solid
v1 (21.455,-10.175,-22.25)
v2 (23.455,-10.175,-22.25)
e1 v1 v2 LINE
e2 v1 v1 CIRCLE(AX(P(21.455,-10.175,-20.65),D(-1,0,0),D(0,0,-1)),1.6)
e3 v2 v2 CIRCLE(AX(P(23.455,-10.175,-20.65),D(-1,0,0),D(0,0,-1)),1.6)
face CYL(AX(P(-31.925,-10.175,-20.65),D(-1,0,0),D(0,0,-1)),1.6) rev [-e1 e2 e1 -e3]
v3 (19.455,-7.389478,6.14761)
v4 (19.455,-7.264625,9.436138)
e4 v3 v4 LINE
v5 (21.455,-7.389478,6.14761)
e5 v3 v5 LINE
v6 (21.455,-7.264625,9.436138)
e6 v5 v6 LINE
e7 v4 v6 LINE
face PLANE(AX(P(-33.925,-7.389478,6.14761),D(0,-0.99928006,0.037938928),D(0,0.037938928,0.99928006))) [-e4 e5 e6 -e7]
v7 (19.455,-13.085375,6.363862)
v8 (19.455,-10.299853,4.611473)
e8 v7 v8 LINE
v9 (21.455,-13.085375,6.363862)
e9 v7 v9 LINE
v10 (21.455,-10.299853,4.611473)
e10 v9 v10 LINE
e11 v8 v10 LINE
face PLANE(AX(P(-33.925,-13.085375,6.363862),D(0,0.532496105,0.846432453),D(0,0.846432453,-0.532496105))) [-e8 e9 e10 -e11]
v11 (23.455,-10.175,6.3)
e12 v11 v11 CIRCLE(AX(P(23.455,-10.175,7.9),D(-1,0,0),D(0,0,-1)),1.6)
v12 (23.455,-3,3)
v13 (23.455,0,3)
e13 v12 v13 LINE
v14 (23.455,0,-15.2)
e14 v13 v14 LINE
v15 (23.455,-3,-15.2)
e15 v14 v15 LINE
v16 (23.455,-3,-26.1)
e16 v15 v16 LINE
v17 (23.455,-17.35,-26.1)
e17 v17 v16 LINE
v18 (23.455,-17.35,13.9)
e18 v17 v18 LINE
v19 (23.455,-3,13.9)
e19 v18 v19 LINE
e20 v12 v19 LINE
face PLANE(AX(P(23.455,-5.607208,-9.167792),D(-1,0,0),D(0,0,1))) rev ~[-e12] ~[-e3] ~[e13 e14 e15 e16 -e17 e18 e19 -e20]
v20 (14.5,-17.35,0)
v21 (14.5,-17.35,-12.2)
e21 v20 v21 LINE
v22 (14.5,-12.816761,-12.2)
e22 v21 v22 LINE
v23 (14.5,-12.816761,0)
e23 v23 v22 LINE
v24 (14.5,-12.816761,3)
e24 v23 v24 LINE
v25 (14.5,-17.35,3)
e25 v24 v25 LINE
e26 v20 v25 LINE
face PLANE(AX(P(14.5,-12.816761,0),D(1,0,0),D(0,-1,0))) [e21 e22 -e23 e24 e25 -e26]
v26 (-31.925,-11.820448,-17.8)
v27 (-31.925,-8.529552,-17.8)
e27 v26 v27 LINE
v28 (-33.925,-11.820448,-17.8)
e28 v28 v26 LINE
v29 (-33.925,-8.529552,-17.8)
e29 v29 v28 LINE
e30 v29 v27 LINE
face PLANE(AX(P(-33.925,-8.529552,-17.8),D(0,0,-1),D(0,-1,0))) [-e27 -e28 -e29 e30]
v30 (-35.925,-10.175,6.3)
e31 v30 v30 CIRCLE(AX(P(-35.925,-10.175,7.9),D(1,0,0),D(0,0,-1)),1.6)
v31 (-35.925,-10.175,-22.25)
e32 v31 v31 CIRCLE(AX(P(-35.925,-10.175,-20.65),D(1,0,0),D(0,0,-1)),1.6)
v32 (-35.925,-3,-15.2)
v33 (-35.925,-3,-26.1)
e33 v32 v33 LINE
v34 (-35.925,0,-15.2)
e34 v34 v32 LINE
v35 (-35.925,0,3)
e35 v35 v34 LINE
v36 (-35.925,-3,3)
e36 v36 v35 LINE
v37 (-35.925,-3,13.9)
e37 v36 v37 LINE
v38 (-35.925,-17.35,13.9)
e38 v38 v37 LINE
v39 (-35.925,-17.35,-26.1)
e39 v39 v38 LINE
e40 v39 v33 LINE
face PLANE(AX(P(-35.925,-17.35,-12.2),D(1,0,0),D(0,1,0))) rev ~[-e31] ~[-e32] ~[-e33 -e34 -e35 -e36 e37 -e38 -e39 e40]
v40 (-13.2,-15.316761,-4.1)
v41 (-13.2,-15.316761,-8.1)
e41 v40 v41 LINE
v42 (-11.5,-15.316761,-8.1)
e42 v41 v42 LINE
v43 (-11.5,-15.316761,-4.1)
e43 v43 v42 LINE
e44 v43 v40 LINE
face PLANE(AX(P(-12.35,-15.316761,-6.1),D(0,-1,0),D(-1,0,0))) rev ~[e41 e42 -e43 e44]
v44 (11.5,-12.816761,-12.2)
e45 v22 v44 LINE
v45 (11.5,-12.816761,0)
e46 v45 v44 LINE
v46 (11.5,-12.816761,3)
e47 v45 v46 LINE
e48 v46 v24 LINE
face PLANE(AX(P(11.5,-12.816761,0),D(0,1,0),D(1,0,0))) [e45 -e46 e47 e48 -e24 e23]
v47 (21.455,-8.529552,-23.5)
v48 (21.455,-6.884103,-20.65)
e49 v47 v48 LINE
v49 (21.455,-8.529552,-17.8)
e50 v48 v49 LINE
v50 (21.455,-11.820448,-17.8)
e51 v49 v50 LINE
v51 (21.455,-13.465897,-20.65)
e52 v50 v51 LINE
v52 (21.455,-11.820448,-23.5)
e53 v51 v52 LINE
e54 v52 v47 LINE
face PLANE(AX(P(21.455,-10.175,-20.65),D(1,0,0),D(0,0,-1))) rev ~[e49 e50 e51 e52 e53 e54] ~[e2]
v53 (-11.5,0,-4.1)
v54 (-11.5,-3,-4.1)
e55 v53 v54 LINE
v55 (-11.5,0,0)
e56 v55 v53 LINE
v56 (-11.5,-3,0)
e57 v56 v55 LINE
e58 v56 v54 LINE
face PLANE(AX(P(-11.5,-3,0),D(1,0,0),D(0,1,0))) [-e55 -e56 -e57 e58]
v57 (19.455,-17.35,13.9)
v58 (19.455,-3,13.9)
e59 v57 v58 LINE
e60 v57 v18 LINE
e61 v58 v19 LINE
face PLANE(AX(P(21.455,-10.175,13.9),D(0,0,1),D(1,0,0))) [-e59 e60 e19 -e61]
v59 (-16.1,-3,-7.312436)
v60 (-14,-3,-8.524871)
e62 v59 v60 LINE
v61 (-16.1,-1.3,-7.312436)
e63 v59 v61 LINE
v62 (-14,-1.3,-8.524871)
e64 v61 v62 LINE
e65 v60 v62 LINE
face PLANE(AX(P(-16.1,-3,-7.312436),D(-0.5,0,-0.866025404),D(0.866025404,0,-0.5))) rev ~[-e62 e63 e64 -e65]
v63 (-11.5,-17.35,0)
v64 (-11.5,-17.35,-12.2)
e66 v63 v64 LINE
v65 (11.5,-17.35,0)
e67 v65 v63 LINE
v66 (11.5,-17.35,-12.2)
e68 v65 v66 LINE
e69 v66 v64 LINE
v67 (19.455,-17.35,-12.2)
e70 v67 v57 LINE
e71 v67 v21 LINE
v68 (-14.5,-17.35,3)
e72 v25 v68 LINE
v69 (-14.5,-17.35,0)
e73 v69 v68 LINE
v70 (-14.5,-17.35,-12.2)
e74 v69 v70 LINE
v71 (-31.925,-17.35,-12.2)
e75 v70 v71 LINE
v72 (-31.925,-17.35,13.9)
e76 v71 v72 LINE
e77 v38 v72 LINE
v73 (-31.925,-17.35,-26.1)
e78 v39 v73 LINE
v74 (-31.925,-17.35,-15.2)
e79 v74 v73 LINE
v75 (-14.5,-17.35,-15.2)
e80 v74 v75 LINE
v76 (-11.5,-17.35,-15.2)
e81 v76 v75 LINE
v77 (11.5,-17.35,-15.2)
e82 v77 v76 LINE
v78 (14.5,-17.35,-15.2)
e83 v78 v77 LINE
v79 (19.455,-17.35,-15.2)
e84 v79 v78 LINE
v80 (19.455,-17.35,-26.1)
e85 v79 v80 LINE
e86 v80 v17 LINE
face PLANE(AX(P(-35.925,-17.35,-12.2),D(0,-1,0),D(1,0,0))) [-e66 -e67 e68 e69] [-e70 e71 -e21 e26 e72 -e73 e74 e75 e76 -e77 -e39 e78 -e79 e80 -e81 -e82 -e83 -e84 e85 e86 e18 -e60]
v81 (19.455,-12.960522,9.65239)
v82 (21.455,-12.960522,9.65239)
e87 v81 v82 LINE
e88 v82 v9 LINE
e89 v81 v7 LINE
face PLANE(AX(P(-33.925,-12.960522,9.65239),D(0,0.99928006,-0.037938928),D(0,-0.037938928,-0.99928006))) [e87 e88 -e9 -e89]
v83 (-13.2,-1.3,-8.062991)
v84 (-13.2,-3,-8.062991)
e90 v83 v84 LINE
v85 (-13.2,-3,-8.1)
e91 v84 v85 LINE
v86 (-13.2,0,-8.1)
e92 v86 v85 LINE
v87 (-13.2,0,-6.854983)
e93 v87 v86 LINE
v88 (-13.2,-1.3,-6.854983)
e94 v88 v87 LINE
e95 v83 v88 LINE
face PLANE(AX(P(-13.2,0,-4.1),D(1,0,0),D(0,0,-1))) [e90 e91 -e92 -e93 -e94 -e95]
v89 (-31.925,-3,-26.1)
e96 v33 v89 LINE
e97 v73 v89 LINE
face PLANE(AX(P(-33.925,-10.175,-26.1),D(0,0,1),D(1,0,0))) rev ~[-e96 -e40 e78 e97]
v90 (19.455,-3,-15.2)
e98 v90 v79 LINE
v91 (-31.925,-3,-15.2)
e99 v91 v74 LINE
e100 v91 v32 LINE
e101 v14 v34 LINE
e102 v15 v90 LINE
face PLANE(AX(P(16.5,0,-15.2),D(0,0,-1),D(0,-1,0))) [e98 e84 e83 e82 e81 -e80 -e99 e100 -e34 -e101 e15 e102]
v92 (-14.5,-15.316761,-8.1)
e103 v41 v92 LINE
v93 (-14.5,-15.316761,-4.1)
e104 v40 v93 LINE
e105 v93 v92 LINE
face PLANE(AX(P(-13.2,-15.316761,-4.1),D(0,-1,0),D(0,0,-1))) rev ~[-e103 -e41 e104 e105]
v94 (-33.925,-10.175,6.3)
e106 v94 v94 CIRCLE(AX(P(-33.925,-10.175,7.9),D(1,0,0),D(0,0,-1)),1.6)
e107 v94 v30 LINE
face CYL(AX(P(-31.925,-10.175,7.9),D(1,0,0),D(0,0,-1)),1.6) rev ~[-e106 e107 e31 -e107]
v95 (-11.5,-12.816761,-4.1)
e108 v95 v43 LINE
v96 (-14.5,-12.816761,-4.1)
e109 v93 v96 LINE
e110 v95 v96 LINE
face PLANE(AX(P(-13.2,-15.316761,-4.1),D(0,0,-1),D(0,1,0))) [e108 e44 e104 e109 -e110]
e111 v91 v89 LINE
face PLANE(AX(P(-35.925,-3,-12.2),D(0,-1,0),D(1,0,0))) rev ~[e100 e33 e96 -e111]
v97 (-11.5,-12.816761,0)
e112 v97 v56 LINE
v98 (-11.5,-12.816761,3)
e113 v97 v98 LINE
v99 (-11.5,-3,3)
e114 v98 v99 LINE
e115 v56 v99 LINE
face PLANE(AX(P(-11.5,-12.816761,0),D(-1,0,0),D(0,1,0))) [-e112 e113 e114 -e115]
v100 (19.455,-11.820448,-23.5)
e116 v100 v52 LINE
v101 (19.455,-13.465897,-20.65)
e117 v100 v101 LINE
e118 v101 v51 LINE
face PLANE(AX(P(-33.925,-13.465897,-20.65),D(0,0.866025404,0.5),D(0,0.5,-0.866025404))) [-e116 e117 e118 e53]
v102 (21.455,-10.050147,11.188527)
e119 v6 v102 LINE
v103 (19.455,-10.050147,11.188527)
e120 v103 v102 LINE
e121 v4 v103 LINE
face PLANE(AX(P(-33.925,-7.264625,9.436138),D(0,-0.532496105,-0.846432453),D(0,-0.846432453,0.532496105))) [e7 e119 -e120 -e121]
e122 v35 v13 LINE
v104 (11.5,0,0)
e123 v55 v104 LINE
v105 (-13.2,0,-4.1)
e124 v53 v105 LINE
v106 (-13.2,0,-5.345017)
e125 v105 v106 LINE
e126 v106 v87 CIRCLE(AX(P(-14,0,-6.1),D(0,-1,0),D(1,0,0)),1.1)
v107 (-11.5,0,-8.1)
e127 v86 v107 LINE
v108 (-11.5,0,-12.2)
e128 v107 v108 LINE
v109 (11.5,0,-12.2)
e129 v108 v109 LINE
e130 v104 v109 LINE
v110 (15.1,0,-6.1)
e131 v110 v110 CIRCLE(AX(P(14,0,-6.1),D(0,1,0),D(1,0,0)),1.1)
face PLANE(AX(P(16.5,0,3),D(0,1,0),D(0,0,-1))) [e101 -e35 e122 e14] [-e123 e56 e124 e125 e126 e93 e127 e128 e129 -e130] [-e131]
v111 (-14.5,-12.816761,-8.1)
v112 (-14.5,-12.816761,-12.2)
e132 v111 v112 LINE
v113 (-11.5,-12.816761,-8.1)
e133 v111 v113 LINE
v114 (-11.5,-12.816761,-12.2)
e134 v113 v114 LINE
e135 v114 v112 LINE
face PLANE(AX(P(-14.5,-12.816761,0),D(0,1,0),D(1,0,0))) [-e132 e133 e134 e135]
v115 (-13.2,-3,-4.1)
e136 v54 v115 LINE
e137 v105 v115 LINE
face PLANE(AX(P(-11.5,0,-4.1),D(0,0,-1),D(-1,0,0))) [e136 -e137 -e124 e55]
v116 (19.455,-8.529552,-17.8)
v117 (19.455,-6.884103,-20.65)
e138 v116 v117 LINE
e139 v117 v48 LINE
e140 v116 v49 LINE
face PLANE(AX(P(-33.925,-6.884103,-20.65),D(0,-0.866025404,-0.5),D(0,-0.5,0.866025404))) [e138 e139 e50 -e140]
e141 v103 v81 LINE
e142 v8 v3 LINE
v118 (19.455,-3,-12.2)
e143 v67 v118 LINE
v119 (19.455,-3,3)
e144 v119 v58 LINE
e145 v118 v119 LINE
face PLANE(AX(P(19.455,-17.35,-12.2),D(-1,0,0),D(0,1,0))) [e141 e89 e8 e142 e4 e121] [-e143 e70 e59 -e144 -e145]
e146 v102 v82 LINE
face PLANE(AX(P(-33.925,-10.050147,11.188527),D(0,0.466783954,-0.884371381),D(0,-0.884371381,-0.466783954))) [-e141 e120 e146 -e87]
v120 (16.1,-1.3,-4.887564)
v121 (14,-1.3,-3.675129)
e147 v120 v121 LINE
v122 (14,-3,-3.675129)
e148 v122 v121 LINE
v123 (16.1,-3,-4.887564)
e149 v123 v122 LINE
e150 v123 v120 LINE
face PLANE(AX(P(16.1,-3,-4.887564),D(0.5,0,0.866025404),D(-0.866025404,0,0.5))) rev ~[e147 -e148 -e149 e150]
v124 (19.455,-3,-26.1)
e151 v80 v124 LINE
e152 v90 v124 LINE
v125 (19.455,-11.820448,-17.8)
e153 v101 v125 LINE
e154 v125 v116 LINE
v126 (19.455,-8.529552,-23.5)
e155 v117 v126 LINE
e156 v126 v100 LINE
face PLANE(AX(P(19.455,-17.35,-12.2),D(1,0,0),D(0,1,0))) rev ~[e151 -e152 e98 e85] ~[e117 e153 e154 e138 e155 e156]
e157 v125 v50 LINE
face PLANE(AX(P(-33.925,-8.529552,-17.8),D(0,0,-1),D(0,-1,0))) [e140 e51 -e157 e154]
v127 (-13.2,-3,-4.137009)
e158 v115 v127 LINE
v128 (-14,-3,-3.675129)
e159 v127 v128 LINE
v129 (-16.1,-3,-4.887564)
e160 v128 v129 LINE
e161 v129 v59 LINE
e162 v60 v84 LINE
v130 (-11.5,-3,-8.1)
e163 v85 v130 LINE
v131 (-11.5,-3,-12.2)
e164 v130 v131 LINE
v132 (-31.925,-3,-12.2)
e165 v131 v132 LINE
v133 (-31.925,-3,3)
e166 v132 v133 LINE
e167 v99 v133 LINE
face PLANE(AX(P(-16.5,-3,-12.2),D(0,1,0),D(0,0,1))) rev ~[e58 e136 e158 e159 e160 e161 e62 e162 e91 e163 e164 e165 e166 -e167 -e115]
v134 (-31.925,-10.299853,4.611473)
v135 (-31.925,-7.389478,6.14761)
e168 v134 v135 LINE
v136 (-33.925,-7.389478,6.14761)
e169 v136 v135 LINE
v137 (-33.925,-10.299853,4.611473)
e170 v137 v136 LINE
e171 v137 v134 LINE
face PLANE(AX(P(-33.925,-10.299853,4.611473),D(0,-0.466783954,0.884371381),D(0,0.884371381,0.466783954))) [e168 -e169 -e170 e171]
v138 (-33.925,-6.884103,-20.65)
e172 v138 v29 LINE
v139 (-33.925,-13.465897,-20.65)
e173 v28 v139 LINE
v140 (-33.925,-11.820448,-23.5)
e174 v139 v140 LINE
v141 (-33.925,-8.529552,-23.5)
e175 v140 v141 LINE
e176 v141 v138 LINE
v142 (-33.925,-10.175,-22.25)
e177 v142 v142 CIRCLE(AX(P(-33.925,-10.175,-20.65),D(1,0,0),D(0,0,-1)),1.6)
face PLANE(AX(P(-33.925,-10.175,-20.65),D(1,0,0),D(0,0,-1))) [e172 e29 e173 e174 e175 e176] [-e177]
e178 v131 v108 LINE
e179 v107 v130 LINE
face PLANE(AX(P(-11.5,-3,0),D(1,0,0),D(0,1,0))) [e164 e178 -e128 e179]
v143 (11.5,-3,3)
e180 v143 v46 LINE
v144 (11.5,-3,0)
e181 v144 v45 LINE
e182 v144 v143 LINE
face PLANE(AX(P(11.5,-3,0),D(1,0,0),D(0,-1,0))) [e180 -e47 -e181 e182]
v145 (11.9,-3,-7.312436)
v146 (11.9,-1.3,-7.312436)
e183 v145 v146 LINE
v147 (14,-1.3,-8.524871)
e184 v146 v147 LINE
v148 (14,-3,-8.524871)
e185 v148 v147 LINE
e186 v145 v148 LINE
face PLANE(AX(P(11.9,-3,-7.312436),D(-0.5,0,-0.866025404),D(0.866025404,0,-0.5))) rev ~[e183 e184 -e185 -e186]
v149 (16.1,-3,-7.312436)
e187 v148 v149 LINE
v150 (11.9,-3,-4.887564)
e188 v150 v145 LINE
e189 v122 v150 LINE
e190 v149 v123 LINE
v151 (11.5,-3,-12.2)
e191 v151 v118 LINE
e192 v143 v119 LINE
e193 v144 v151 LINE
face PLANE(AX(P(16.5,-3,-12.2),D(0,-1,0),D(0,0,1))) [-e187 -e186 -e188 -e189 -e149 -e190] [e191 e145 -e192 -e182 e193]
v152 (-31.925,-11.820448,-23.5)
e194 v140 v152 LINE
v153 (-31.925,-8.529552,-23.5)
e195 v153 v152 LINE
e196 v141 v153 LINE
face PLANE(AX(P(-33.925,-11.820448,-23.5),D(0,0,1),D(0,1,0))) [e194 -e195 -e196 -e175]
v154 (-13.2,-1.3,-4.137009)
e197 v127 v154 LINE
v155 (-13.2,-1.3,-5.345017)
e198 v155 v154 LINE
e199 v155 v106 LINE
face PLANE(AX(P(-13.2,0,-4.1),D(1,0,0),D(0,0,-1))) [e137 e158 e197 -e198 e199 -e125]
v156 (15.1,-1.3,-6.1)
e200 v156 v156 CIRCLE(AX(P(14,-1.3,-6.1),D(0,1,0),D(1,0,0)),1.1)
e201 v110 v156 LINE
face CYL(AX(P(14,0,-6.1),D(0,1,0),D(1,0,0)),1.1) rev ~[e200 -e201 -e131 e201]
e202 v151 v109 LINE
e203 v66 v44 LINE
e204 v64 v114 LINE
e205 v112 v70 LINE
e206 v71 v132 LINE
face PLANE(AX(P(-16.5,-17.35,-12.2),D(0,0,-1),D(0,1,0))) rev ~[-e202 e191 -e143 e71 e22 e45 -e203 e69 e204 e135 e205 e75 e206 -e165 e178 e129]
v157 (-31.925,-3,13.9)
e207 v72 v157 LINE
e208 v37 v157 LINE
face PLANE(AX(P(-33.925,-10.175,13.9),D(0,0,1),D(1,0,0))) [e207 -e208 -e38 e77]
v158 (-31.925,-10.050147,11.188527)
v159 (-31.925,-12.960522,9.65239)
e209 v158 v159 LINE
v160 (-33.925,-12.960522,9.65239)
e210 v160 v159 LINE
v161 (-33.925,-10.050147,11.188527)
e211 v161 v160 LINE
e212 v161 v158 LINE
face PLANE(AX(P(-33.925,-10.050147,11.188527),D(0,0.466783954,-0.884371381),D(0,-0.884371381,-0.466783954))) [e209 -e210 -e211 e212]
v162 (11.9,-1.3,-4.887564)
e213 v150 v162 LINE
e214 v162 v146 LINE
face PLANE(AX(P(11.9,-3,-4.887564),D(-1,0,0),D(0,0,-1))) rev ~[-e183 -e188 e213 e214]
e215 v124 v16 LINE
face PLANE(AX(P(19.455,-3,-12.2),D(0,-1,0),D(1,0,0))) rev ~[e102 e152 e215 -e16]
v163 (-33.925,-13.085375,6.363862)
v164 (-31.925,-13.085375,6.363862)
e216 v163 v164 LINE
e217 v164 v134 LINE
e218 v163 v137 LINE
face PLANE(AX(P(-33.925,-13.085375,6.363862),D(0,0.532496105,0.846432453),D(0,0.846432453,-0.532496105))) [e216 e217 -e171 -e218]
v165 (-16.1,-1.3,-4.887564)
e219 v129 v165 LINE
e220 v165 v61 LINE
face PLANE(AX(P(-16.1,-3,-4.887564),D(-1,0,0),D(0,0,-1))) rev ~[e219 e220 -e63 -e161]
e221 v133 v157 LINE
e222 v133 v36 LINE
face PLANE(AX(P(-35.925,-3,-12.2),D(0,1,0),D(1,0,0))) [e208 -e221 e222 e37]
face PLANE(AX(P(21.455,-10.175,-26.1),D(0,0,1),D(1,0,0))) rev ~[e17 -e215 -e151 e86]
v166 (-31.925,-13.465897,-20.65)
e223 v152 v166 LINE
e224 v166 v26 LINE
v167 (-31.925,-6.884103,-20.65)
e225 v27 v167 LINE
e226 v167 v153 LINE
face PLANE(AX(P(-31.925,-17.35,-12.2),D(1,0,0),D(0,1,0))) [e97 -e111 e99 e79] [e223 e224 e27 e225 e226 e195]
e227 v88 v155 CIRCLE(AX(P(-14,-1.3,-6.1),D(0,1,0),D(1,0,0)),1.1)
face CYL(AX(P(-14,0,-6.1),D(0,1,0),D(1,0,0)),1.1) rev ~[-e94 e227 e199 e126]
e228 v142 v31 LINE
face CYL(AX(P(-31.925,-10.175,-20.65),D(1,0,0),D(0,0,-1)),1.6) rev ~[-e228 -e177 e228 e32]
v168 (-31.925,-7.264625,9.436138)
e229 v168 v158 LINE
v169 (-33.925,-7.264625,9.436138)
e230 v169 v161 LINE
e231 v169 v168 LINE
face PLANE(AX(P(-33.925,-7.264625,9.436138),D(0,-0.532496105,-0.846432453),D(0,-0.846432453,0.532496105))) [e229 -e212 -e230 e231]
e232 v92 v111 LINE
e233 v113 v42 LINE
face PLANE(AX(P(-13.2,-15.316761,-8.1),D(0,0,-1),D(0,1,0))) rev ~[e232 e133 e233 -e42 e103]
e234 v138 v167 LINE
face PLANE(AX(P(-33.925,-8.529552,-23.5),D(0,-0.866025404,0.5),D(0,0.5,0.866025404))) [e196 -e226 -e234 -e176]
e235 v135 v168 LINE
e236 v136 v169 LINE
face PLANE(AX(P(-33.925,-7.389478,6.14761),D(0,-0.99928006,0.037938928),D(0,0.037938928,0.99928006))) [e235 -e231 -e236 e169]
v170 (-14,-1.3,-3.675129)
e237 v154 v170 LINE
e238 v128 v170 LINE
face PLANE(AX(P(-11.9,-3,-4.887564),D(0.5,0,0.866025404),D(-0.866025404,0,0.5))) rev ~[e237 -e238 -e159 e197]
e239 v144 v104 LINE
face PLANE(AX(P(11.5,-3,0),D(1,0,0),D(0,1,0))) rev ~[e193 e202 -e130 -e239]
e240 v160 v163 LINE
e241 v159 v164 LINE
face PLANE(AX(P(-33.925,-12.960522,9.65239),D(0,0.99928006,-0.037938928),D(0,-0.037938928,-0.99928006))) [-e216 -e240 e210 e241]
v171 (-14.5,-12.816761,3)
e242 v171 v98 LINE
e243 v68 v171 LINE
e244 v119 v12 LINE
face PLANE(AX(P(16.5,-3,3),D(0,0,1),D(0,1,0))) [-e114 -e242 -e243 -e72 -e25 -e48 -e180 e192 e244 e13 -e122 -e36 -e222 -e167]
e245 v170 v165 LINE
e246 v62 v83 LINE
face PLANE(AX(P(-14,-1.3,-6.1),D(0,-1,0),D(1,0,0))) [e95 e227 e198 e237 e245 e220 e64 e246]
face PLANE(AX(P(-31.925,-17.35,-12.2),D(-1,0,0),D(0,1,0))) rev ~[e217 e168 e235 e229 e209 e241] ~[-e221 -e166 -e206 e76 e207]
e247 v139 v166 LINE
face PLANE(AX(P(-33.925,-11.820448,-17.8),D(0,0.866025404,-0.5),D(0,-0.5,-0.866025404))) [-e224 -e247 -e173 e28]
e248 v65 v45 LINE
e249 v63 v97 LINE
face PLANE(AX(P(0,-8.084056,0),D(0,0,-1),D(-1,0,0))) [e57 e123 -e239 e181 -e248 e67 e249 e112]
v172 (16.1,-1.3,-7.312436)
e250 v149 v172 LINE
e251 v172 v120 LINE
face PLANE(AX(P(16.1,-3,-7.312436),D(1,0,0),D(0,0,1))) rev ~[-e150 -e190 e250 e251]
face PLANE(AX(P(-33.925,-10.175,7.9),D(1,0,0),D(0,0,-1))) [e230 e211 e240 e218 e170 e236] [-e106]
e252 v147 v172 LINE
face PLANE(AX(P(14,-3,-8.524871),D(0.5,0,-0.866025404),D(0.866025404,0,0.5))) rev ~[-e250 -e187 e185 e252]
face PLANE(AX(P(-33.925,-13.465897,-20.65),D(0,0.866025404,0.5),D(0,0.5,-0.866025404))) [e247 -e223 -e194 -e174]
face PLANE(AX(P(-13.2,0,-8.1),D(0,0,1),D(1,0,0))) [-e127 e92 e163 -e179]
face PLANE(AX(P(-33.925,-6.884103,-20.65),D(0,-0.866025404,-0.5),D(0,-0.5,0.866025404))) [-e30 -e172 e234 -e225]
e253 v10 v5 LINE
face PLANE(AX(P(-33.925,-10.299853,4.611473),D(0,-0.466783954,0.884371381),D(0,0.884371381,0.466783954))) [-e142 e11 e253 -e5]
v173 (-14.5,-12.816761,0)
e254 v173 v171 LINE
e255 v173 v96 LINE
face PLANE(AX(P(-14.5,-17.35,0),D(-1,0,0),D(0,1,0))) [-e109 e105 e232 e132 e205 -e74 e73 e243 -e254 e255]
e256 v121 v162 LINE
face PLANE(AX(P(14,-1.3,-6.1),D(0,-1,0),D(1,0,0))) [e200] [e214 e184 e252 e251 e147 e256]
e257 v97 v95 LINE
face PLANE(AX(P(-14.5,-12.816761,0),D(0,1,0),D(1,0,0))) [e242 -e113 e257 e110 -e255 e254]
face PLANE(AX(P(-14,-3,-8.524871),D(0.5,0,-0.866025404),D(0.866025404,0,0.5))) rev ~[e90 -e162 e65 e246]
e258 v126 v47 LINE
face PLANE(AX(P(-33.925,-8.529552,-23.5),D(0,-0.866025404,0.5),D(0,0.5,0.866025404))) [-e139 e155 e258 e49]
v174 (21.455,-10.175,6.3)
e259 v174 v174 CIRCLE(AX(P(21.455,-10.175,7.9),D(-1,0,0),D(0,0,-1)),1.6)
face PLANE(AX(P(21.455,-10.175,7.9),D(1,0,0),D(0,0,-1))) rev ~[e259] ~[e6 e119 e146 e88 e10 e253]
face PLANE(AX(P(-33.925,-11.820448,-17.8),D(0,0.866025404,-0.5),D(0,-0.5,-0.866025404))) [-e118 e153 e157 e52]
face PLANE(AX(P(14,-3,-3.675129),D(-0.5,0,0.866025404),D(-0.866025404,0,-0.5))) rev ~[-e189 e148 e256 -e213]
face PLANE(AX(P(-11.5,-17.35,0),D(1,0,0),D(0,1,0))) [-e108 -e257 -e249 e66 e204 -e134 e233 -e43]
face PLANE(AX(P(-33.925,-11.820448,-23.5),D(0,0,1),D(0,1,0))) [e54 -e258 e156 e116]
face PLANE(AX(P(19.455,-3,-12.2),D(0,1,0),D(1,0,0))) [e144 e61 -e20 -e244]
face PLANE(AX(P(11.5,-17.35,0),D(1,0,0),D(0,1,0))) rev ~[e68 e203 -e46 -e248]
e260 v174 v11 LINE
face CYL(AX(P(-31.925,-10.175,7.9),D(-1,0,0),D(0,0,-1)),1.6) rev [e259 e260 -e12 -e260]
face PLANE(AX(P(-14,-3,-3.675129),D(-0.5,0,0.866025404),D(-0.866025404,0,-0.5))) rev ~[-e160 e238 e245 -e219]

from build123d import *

# Parameters (mm, degrees)
BOSS_EXTRUDE1_DEPTH      = 3
SKETCH2_W                = 5
SKETCH2_H                = 3
SKETCH2_W_2              = 3
SKETCH2_H_2              = 4.533238731
BOSS_EXTRUDE2_DEPTH      = 15.2
BOSS_EXTRUDE3_DEPTH      = 3
BOSS_EXTRUDE4_DEPTH      = 19.425
BOSS_EXTRUDE5_DEPTH      = 6.955
CUT_EXTRUDE1_REACH       = 19.35
SKETCH6_R                = 1.1
CUT_EXTRUDE2_DEPTH       = 1.7
SKETCH8_W                = 4
SKETCH8_H                = 14.35
BOSS_EXTRUDE6_DEPTH      = 26.1
BOSS_EXTRUDE6_DEPTH_BACK = 13.9
SKETCH10_R               = 1.6
CUT_EXTRUDE3_DEPTH       = 56.38
CUT_EXTRUDE3_DEPTH_BACK  = 5
CUT_EXTRUDE5_START       = -2
CUT_EXTRUDE5_DEPTH       = 55.38
CUT_EXTRUDE6_DEPTH       = 7.5
CUT_EXTRUDE6_DEPTH_BACK  = 15.316761
CUT_EXTRUDE7_REACH       = 24.725
SKETCH13_W               = 4
SKETCH13_H               = 2.5


with BuildPart() as part:
    # Sketch1 → Boss-Extrude1 (new body)
    with BuildSketch(Plane.XY):
        Polygon((16.5, 0), (16.5, -3), (11.5, -3), (11.5, -12.816761269), (14.5, -12.816761269), (14.5, -17.35), (-14.5, -17.35), (-14.5, -12.816761269), (-11.5, -12.816761269), (-11.5, -3), (-16.5, -3), (-16.5, 0), align=None)
    extrude(amount=BOSS_EXTRUDE1_DEPTH)

    # Sketch2 → Boss-Extrude2 (add)
    with BuildSketch(Plane(origin=(0, 0, 0), x_dir=(-1, 0, 0), z_dir=(0, 0, -1))):
        with Locations((-14, -1.5)):
            Rectangle(SKETCH2_W, SKETCH2_H)
        with Locations((14, -1.5)):
            Rectangle(SKETCH2_W, SKETCH2_H)
        with Locations((-13, -15.083380635)):
            Rectangle(SKETCH2_W_2, SKETCH2_H_2)
        with Locations((13, -15.083380635)):
            Rectangle(SKETCH2_W_2, SKETCH2_H_2)
    extrude(amount=BOSS_EXTRUDE2_DEPTH)

    # Sketch3 → Boss-Extrude3 (add)
    with BuildSketch(Plane(origin=(0, 0, -12.2), x_dir=(-1, 0, 0), z_dir=(0, 0, -1))):
        Polygon((-11.5, -17.35), (16.5, -17.35), (16.5, 0), (-16.5, 0), (-16.5, -17.35), align=None)
    extrude(amount=BOSS_EXTRUDE3_DEPTH)

    # Sketch4 → Boss-Extrude4 (add)
    with BuildSketch(Plane.ZY.offset(16.5)):
        Polygon((-15.2, -17.35), (-12.2, -17.35), (-12.2, -3), (3, -3), (3, 0), (-15.2, 0), align=None)
    extrude(amount=BOSS_EXTRUDE4_DEPTH)

    # Sketch5 → Boss-Extrude5 (add)
    with BuildSketch(Plane(origin=(16.5, 0, 0), x_dir=(0, 0, -1), z_dir=(1, 0, 0))):
        Polygon((-3, 0), (15.2, 0), (15.2, -17.35), (12.2, -17.35), (12.2, -3), (-3, -3), align=None)
    extrude(amount=BOSS_EXTRUDE5_DEPTH)

    # Sketch6 → Cut-Extrude1 (cut, up to next)
    with BuildSketch(Plane(origin=(0, 0, 0), x_dir=(1, 0, 0), z_dir=(0, 1, 0)), mode=Mode.PRIVATE) as cut_extrude1_sk1:
        with Locations((14, 6.1)):
            Circle(SKETCH6_R)
    cut_extrude1_tool1 = extrude(cut_extrude1_sk1.sketch, amount=-CUT_EXTRUDE1_REACH, mode=Mode.PRIVATE) & part.part
    add(cut_extrude1_tool1.solids().sort_by_distance((14, 0, -6.1))[0], mode=Mode.SUBTRACT)
    # Sketch6 → Cut-Extrude1 (cut, up to next)
    with BuildSketch(Plane(origin=(0, 0, 0), x_dir=(1, 0, 0), z_dir=(0, 1, 0)), mode=Mode.PRIVATE) as cut_extrude1_sk2:
        with Locations((-14, 6.1)):
            Circle(SKETCH6_R)
    cut_extrude1_tool2 = extrude(cut_extrude1_sk2.sketch, amount=-CUT_EXTRUDE1_REACH, mode=Mode.PRIVATE) & part.part
    add(cut_extrude1_tool2.solids().sort_by_distance((-14, 0, -6.1))[0], mode=Mode.SUBTRACT)

    # Sketch7 → Cut-Extrude2 (cut)
    with BuildSketch(Plane.XZ.offset(3)):
        Polygon((14, -3.675128869), (11.9, -4.887564435), (11.9, -7.312435565), (14, -8.524871131), (16.1, -7.312435565), (16.1, -4.887564435), align=None)
        Polygon((-14, -3.675128869), (-16.1, -4.887564435), (-16.1, -7.312435565), (-14, -8.524871131), (-11.9, -7.312435565), (-11.9, -4.887564435), align=None)
    extrude(amount=-CUT_EXTRUDE2_DEPTH, mode=Mode.SUBTRACT)

    # Sketch8 → Boss-Extrude6 (add, two sides)
    with BuildSketch(Plane.XY.offset(-12.2)) as boss_extrude6_sk:
        with Locations((-33.925, -10.175)):
            Rectangle(SKETCH8_W, SKETCH8_H)
        with Locations((21.455, -10.175)):
            Rectangle(SKETCH8_W, SKETCH8_H)
    extrude(amount=BOSS_EXTRUDE6_DEPTH)
    extrude(boss_extrude6_sk.sketch, amount=-BOSS_EXTRUDE6_DEPTH_BACK)

    # Sketch10 → Cut-Extrude3 (cut, two sides)
    with BuildSketch(Plane(origin=(-31.925, 0, 0), x_dir=(0, 0, -1), z_dir=(1, 0, 0))) as cut_extrude3_sk:
        with Locations((-7.9, -10.175)):
            Circle(SKETCH10_R)
        with Locations((20.65, -10.175)):
            Circle(SKETCH10_R)
    extrude(amount=CUT_EXTRUDE3_DEPTH, mode=Mode.SUBTRACT)
    extrude(cut_extrude3_sk.sketch, amount=-CUT_EXTRUDE3_DEPTH_BACK, mode=Mode.SUBTRACT)

    # Sketch11 → Cut-Extrude5 (cut)
    with BuildSketch(Plane(origin=(-31.925, 0, 0), x_dir=(0, 0, -1), z_dir=(1, 0, 0)).offset(CUT_EXTRUDE5_START)):
        Polygon((-9.652389588, -12.960521627), (-6.363862302, -13.085374714), (-4.611472715, -10.299853087), (-6.147610412, -7.389478373), (-9.436137698, -7.264625286), (-11.188527285, -10.050146913), align=None)
        Polygon((20.65, -13.465896534), (23.5, -11.820448267), (23.5, -8.529551733), (20.65, -6.884103466), (17.8, -8.529551733), (17.8, -11.820448267), align=None)
    extrude(amount=CUT_EXTRUDE5_DEPTH, mode=Mode.SUBTRACT)

    # Sketch12 → Cut-Extrude6 (cut, two sides)
    with BuildSketch(Plane(origin=(0, 0, 0), x_dir=(1, 0, 0), z_dir=(0, 1, 0))) as cut_extrude6_sk:
        Polygon((-11.5, 6.1), (-11.5, 4.1), (-13.2, 4.1), (-13.2, 8.1), (-11.5, 8.1), align=None)
    extrude(amount=CUT_EXTRUDE6_DEPTH, mode=Mode.SUBTRACT)
    extrude(cut_extrude6_sk.sketch, amount=-CUT_EXTRUDE6_DEPTH_BACK, mode=Mode.SUBTRACT)

    # Sketch13 → Cut-Extrude7 (cut, up to next)
    with BuildSketch(Plane(origin=(-13.2, 0, 0), x_dir=(0, 0, -1), z_dir=(1, 0, 0)), mode=Mode.PRIVATE) as cut_extrude7_sk1:
        with Locations((6.1, -14.066761269)):
            Rectangle(SKETCH13_W, SKETCH13_H)
    cut_extrude7_tool1 = extrude(cut_extrude7_sk1.sketch, amount=-CUT_EXTRUDE7_REACH, mode=Mode.PRIVATE) & part.part
    add(cut_extrude7_tool1.solids().sort_by_distance((-13.2, -14.066761, -6.1))[0], mode=Mode.SUBTRACT)


solid = part.part
